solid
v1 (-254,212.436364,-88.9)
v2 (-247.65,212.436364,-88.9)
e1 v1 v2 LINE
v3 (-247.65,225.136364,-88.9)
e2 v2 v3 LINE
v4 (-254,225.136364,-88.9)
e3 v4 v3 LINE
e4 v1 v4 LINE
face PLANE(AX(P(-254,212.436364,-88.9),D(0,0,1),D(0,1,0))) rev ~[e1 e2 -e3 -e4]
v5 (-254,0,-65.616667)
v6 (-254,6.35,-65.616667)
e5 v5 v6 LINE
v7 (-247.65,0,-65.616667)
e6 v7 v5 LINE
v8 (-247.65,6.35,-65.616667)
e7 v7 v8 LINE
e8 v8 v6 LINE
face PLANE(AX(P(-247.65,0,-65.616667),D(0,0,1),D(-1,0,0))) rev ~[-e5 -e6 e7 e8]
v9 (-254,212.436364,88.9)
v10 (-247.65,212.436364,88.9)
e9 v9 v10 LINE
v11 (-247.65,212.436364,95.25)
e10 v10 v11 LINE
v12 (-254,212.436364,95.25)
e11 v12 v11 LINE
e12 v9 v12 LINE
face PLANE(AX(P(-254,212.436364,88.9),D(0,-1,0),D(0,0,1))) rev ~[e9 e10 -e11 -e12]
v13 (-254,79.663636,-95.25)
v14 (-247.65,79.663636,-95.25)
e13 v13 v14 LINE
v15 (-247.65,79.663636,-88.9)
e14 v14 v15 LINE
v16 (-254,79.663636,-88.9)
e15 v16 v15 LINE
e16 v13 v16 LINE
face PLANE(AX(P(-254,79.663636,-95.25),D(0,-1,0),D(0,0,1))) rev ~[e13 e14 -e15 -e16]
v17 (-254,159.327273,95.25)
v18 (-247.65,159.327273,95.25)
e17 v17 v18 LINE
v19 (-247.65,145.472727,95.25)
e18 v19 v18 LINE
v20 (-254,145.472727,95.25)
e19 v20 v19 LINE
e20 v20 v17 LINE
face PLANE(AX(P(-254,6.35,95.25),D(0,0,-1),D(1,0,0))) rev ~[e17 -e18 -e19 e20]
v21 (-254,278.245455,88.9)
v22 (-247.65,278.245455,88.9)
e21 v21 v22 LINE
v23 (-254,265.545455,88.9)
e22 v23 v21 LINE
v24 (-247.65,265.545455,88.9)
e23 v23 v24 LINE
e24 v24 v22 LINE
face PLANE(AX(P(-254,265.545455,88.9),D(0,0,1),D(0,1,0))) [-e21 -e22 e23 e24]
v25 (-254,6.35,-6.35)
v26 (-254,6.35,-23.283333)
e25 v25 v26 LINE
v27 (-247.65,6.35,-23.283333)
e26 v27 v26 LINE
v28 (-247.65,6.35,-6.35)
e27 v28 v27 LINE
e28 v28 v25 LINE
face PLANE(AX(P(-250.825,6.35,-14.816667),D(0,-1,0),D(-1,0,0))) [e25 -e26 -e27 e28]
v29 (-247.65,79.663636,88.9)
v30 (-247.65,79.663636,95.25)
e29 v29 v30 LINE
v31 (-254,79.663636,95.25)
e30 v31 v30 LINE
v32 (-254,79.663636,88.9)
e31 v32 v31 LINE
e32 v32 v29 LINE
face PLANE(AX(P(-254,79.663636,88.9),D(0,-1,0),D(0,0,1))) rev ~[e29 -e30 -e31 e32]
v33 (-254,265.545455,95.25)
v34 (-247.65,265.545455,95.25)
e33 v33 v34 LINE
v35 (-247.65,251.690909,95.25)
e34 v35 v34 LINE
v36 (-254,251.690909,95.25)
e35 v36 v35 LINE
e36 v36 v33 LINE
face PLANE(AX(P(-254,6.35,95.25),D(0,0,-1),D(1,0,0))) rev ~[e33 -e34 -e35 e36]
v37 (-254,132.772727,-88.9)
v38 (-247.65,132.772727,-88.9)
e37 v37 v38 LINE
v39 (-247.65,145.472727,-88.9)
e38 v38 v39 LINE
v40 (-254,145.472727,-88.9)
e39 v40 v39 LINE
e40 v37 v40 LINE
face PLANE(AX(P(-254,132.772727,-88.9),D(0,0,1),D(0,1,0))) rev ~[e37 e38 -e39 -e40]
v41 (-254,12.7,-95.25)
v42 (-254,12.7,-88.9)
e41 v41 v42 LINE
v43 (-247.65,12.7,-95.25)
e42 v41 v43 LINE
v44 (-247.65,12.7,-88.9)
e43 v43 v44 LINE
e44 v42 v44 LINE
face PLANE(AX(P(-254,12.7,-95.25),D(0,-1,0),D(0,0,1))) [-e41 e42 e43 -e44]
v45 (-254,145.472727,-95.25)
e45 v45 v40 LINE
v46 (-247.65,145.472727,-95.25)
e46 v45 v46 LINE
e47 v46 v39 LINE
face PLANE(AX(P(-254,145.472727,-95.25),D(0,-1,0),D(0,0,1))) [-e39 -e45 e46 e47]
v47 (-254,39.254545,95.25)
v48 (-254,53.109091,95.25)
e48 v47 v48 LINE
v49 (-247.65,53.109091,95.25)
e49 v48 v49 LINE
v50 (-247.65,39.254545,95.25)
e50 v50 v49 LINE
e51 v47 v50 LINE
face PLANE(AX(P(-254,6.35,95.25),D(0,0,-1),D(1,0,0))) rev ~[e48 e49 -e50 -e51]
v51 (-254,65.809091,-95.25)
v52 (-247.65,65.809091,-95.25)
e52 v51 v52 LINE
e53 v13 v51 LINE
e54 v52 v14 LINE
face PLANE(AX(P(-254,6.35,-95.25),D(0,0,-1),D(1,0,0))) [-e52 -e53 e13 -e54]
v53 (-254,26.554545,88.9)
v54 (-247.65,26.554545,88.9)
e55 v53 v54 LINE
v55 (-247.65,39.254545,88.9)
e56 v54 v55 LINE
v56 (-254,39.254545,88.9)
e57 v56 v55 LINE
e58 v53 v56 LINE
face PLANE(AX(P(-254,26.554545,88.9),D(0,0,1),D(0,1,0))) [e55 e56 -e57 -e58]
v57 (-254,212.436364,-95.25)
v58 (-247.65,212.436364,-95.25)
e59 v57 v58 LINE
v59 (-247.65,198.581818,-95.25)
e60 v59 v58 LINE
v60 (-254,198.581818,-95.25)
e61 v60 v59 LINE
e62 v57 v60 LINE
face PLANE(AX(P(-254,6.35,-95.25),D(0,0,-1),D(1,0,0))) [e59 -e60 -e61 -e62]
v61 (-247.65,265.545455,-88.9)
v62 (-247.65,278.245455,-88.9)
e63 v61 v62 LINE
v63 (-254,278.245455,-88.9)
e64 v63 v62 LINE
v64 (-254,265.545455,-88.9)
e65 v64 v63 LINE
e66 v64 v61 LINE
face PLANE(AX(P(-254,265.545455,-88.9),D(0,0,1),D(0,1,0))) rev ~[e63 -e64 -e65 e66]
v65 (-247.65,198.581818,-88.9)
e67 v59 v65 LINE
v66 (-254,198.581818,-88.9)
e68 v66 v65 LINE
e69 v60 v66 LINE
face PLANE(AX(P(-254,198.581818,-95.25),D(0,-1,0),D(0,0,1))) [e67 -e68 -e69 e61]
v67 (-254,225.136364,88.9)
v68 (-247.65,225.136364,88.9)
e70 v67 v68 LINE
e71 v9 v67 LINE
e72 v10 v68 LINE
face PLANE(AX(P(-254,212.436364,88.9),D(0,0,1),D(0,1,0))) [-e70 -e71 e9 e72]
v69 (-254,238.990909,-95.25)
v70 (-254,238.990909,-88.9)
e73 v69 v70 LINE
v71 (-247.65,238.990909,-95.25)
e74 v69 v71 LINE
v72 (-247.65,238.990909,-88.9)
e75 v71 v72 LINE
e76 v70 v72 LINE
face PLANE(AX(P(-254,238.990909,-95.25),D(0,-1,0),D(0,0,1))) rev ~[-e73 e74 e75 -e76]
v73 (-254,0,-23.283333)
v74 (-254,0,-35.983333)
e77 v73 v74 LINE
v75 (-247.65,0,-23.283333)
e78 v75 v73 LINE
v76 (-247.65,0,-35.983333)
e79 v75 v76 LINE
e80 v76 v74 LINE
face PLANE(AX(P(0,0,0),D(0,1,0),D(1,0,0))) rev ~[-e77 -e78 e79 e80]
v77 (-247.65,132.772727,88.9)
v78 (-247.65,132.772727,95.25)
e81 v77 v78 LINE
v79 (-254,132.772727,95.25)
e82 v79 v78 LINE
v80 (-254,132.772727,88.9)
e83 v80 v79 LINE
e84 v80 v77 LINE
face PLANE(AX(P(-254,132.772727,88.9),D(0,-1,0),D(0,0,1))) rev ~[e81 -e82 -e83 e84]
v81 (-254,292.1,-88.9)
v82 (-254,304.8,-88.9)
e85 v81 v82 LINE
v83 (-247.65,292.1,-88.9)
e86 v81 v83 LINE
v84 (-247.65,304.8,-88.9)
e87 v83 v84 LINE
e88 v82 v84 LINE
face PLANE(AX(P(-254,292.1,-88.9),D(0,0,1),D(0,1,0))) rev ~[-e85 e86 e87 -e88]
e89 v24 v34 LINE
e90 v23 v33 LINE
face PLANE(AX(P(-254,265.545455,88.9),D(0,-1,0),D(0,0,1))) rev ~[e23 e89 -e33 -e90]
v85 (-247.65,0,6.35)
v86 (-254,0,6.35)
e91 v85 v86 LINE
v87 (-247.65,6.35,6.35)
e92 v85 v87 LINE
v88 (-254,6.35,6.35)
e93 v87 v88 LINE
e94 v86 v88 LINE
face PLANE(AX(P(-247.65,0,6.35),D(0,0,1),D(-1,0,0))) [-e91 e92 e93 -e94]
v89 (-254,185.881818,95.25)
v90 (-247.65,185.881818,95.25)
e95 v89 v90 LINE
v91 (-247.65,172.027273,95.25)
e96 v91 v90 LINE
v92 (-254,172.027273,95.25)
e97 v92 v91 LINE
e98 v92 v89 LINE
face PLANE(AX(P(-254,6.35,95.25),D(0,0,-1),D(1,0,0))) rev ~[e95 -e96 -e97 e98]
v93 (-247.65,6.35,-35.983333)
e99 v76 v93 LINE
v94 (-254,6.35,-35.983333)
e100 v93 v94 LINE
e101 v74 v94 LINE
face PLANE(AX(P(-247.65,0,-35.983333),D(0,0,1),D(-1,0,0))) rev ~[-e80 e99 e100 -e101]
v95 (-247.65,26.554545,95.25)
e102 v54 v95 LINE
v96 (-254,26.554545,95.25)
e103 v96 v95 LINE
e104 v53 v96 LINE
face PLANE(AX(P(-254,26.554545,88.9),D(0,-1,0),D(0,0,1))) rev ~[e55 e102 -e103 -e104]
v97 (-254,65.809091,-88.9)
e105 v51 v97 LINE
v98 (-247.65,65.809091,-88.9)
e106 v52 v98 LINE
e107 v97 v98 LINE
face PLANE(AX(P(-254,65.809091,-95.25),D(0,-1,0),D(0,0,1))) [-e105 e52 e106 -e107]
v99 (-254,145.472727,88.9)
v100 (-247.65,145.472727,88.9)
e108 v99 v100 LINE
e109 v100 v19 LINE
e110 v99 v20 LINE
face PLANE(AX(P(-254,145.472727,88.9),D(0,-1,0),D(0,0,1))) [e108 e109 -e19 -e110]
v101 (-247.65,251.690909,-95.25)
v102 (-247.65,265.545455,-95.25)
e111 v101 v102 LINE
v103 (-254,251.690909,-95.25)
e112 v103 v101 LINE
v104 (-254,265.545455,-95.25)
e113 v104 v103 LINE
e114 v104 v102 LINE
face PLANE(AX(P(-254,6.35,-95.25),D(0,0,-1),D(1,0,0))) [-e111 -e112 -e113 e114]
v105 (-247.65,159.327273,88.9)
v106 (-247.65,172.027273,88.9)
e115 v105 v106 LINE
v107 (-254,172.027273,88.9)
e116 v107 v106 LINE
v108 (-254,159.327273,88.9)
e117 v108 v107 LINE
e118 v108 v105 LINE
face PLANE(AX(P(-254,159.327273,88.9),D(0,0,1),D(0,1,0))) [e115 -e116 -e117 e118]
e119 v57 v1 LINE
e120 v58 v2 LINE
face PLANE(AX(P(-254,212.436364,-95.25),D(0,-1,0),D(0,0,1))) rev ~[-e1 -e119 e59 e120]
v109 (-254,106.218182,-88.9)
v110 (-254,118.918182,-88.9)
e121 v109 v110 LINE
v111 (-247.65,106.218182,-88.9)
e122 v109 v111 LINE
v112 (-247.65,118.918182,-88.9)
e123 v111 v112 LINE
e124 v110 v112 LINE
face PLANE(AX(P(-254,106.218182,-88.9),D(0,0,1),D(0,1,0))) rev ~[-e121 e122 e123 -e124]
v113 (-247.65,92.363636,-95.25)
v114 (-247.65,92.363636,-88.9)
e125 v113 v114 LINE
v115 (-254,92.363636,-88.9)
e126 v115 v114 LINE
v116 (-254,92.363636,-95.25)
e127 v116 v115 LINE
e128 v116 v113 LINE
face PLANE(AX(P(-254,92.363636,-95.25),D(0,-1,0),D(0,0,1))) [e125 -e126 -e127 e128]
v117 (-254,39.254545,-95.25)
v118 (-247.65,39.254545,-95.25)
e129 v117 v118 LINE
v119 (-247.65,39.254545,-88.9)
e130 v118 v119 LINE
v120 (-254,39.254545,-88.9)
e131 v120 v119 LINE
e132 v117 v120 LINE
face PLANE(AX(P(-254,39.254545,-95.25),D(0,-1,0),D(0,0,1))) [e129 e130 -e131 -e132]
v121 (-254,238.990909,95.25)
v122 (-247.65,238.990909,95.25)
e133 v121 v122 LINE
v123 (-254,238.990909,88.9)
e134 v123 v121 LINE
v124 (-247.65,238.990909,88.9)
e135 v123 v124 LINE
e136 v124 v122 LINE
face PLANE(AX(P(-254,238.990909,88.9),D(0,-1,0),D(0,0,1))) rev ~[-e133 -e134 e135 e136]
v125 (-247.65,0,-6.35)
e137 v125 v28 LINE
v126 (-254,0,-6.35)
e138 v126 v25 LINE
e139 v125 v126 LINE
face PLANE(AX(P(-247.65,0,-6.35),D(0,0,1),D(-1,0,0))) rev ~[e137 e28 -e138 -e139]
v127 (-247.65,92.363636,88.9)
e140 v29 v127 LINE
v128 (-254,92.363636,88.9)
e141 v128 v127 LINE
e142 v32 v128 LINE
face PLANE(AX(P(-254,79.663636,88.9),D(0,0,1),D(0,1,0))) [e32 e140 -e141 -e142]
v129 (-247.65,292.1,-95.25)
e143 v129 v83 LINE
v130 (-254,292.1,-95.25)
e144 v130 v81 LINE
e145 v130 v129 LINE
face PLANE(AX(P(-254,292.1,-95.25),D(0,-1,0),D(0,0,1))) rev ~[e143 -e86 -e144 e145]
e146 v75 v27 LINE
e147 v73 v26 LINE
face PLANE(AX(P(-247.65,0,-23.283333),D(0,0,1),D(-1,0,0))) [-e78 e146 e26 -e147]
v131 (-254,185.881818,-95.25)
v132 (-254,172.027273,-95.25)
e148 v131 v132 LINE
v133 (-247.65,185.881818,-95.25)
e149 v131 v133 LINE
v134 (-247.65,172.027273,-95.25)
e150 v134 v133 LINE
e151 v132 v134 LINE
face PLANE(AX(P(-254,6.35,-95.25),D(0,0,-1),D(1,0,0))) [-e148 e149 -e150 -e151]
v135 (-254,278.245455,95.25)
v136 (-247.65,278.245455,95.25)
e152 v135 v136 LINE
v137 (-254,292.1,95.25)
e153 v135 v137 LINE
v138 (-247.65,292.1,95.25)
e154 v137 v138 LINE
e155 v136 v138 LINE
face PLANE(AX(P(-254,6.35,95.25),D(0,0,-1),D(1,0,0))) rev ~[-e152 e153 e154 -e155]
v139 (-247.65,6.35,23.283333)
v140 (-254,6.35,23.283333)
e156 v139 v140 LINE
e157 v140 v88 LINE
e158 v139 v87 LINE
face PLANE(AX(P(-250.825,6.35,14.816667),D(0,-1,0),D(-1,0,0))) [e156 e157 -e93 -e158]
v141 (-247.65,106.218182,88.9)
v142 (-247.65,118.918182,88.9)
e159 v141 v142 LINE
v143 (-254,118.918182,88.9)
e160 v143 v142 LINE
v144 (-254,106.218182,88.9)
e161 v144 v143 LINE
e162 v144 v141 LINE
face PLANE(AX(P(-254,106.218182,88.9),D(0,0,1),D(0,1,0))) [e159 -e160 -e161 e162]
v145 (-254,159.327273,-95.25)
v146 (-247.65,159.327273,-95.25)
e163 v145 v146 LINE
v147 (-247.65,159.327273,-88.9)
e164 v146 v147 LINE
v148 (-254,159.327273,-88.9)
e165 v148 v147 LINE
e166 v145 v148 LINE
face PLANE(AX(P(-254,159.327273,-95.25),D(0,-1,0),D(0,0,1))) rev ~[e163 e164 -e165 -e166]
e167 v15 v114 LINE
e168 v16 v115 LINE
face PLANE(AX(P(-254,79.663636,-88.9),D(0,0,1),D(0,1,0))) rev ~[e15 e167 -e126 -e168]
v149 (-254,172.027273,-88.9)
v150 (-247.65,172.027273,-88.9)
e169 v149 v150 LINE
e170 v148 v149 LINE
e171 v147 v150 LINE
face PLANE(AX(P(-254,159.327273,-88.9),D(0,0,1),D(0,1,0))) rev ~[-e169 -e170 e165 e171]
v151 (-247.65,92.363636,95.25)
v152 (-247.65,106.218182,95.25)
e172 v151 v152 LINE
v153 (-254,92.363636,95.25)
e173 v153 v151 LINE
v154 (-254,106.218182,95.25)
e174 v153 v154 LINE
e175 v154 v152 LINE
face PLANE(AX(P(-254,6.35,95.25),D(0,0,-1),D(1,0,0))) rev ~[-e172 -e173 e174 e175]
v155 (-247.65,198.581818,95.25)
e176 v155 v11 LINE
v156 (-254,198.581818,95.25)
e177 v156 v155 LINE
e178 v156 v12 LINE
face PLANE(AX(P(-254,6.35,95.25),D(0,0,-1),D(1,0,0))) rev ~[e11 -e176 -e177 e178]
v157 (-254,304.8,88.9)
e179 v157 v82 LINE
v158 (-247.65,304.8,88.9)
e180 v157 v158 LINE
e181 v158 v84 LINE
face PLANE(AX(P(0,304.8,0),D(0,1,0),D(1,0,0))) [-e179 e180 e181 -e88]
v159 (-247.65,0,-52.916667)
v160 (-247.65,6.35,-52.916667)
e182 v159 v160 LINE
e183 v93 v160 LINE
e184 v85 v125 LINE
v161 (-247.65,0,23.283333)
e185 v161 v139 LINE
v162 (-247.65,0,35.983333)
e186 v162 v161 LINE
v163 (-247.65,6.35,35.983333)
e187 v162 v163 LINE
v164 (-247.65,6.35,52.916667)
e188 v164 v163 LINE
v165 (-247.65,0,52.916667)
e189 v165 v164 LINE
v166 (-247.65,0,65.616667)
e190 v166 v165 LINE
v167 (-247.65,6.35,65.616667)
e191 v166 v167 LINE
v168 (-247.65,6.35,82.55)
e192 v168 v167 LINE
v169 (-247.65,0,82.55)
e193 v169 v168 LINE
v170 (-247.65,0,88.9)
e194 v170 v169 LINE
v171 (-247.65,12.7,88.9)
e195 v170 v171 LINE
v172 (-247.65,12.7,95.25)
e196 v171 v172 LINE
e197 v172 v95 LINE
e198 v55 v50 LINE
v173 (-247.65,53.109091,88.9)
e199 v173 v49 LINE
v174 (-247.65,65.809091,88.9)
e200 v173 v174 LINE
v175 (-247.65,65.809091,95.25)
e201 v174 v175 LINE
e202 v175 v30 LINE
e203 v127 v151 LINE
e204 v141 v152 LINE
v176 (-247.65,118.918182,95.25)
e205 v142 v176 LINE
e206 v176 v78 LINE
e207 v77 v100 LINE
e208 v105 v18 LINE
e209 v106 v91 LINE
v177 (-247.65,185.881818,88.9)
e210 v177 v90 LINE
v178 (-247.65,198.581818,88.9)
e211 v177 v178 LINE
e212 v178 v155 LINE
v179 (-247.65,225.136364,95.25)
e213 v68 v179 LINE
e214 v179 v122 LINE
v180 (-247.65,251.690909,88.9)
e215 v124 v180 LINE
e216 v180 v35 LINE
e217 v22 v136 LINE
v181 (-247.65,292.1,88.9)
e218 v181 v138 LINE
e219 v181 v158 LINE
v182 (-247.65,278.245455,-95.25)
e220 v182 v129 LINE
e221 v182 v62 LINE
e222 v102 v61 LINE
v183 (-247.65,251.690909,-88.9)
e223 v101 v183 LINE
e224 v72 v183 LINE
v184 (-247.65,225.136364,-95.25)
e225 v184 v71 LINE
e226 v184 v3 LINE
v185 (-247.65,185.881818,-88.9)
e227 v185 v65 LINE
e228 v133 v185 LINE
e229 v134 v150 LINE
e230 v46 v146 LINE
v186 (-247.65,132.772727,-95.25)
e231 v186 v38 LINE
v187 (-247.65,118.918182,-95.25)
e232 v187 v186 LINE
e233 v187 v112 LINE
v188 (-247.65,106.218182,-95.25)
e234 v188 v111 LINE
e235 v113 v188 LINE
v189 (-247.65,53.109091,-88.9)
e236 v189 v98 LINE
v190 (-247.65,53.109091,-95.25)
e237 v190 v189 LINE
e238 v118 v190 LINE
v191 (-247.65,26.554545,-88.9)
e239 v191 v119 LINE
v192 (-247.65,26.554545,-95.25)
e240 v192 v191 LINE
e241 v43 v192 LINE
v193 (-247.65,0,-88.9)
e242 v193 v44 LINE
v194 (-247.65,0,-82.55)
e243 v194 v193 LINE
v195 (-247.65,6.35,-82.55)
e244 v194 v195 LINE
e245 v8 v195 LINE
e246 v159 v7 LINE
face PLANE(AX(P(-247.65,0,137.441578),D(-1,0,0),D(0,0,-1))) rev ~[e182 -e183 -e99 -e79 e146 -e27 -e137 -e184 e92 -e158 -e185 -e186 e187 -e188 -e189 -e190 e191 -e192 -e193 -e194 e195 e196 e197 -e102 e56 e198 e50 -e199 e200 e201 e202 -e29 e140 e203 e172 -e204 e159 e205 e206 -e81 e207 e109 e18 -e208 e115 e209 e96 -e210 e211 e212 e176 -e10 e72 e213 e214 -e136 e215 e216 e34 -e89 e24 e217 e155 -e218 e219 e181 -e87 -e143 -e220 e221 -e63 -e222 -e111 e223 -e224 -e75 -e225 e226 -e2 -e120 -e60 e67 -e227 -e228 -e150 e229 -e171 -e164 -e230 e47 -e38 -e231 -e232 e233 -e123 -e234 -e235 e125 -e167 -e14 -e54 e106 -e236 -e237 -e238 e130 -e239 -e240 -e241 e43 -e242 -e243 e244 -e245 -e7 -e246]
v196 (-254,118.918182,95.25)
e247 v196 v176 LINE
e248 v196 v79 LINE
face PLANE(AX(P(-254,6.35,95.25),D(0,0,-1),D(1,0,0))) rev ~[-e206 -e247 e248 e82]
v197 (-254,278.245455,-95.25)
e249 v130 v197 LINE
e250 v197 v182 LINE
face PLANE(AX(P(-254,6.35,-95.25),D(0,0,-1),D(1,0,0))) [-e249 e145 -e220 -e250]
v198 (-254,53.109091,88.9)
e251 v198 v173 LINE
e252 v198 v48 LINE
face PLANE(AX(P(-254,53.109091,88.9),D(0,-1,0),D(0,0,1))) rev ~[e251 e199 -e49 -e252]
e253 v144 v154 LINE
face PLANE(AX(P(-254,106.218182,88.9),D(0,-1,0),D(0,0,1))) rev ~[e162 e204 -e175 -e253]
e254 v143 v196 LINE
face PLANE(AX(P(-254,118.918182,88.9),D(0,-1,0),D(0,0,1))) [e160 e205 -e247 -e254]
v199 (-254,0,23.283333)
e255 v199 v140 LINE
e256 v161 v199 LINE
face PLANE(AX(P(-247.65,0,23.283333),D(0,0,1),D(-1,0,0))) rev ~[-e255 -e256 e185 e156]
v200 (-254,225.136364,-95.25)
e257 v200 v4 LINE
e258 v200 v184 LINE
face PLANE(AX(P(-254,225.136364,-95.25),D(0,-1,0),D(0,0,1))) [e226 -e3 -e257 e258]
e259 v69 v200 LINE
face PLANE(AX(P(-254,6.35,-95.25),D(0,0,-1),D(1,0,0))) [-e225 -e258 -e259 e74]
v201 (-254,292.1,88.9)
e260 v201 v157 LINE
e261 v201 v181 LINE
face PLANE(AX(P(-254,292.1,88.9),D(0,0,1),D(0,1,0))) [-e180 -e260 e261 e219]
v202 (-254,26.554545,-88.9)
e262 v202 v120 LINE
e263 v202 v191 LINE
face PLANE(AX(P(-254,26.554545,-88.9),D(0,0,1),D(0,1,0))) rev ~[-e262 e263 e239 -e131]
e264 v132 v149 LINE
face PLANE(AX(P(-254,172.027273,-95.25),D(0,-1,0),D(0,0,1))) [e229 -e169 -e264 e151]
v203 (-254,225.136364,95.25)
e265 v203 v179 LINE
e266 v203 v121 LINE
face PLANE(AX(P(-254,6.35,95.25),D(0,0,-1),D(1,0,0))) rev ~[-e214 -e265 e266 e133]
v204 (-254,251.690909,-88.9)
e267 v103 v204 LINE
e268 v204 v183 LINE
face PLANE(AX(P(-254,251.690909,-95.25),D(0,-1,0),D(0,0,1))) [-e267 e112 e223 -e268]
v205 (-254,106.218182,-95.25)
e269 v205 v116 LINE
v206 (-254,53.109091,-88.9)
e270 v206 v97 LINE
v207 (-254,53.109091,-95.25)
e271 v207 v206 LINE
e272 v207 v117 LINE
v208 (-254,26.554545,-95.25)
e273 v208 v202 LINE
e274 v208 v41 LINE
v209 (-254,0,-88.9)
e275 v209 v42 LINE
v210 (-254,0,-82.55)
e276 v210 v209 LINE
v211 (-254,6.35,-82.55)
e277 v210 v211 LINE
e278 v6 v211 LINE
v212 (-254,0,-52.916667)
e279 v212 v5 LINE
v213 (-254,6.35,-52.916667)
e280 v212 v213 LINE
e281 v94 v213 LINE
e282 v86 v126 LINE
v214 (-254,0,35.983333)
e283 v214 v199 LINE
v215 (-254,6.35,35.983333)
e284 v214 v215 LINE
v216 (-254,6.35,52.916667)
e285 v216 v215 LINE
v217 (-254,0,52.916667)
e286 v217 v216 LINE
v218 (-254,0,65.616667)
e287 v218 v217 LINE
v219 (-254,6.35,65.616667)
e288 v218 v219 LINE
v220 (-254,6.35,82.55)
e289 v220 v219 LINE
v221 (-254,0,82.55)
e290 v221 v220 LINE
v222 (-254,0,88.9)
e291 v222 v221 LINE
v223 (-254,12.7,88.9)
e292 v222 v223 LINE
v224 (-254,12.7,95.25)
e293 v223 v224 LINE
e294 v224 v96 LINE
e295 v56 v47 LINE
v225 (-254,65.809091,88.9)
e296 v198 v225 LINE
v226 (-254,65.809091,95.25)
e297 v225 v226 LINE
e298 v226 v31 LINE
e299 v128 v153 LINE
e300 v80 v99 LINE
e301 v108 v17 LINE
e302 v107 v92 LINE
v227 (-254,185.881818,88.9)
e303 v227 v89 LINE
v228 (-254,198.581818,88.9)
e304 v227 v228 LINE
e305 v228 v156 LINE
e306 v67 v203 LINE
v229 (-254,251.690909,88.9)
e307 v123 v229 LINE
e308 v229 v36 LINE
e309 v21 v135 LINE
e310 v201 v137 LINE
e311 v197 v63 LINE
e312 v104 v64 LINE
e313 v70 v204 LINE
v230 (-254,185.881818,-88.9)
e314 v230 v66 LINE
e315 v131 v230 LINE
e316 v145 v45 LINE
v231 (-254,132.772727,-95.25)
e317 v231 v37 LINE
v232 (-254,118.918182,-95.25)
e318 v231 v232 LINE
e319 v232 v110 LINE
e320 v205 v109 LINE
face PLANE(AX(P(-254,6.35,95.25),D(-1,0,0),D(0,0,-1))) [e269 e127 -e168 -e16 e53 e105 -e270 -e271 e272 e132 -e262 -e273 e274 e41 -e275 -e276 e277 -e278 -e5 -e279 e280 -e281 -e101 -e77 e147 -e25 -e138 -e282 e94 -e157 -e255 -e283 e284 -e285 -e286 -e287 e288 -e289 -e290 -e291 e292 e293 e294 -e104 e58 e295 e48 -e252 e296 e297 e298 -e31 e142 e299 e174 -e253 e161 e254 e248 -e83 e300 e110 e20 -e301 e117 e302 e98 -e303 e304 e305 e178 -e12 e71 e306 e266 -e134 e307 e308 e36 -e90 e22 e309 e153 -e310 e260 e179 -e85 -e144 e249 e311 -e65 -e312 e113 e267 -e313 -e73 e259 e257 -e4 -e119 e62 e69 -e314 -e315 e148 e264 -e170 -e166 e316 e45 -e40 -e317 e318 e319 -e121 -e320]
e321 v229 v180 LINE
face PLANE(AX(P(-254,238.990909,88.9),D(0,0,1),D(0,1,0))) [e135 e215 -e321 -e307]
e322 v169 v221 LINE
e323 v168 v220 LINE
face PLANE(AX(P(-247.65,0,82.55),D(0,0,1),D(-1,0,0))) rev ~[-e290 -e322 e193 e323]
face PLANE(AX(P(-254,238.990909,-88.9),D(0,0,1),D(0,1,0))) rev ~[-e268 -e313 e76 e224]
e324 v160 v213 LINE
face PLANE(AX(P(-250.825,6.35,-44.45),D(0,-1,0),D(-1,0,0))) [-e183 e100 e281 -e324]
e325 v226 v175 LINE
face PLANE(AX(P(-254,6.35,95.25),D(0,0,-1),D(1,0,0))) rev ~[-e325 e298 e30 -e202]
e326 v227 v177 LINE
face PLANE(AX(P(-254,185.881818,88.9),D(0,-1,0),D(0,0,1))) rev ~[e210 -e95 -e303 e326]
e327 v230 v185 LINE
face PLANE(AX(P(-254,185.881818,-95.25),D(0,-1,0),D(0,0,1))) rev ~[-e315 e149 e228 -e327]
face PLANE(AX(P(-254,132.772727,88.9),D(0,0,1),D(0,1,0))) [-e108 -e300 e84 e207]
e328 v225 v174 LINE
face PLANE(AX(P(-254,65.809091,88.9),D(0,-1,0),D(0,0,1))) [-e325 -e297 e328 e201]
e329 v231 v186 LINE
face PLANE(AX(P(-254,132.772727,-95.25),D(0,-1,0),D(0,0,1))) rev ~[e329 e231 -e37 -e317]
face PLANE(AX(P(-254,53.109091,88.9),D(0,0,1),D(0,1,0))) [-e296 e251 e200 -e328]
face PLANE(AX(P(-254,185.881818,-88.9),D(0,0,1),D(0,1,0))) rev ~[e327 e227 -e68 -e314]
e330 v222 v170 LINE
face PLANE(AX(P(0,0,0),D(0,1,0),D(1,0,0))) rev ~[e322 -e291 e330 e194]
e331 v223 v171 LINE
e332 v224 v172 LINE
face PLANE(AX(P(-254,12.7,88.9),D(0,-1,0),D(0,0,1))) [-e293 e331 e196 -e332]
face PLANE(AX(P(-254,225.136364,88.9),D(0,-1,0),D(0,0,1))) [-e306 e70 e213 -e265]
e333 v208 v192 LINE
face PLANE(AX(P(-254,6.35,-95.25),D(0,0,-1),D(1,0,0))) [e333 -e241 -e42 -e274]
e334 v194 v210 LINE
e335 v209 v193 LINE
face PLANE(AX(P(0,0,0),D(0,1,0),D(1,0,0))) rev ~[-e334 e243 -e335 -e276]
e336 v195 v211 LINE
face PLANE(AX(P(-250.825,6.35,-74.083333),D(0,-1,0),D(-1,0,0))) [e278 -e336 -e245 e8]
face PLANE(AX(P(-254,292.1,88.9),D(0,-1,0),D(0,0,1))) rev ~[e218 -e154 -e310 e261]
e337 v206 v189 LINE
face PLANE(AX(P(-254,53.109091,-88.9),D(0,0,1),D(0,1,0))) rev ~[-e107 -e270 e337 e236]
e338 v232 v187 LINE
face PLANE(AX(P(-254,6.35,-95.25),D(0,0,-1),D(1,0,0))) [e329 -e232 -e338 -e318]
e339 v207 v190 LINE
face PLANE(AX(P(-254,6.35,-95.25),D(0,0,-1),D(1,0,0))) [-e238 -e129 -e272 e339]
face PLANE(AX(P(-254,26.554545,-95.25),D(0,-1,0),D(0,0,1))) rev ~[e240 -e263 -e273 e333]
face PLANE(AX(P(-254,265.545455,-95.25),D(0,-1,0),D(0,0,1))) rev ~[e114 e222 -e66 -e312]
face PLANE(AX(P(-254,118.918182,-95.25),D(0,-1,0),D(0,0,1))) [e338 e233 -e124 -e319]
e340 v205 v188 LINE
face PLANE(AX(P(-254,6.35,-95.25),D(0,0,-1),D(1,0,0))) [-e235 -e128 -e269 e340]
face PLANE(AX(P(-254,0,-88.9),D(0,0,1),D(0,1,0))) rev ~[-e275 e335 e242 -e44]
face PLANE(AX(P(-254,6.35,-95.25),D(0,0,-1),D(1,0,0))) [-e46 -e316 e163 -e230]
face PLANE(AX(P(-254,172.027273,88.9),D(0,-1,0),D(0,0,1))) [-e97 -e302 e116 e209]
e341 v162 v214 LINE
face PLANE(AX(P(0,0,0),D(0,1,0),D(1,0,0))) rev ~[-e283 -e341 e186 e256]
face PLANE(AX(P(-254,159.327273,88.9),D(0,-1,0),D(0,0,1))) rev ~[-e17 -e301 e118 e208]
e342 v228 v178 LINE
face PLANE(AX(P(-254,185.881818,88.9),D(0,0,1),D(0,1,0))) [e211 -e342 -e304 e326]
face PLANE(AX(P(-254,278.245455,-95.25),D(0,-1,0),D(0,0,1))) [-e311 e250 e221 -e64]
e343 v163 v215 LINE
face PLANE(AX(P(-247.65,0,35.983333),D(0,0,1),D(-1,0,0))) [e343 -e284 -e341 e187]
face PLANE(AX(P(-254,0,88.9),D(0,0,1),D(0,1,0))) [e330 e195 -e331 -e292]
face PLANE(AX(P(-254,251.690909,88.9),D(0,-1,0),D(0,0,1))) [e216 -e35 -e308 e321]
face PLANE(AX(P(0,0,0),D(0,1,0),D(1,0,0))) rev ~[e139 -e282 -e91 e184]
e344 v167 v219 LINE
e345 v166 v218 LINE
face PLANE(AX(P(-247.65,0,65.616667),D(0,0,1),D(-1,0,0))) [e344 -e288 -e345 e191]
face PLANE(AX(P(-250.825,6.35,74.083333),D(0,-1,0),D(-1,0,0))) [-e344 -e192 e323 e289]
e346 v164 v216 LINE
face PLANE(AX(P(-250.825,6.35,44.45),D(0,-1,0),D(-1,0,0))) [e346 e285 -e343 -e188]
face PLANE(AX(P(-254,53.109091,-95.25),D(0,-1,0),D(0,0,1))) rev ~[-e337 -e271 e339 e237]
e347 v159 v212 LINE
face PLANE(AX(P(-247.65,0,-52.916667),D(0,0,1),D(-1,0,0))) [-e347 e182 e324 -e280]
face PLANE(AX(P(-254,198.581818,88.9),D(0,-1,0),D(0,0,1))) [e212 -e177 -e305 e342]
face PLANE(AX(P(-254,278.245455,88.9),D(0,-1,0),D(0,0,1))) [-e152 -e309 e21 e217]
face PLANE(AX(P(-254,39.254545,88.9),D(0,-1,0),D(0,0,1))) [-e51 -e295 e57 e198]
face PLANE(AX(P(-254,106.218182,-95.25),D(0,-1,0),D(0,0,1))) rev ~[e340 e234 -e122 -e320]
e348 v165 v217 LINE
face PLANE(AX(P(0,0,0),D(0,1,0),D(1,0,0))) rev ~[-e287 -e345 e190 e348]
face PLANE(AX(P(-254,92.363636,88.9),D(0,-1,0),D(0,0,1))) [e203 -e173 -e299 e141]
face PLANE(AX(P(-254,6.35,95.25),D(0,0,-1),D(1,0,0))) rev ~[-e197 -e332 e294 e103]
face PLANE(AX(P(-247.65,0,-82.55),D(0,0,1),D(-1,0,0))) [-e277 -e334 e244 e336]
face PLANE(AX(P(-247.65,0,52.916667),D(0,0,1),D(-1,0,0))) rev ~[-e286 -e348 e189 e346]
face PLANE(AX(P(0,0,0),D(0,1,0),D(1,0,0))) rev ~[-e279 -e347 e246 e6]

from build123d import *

# Parameters (mm, degrees)
SKETCH1_W           = 508
SKETCH1_H           = 190.5
BOSS_EXTRUDE1_DEPTH = 6.35
SKETCH2_W           = 508
SKETCH2_H           = 190.5
SKETCH2_W_2         = 495.3
SKETCH2_H_2         = 177.8
BOSS_EXTRUDE2_DEPTH = 298.45
SKETCH3_W           = 6.35
SKETCH3_H           = 16.933333333
SKETCH3_H_2         = 16.933333334
CUT_EXTRUDE1_DEPTH  = 12.7
SKETCH4_W           = 6.35
SKETCH4_H           = 15.875
CUT_EXTRUDE2_DEPTH  = 6.35
SKETCH6_W           = 514.801062296
SKETCH6_H           = 254.881465808
CUT_EXTRUDE5_DEPTH  = 305.8
SKETCH5_W           = 6.35
SKETCH5_H           = 16.933333333
SKETCH5_H_2         = 16.933333334
CUT_EXTRUDE6_DEPTH  = 6.35
SKETCH7_W           = 6.35
SKETCH7_H           = 12.7
CUT_EXTRUDE7_DEPTH  = 7.35


with BuildPart() as part:
    # Sketch1 → Boss-Extrude1 (new body)
    with BuildSketch(Plane(origin=(0, 0, 0), x_dir=(1, 0, 0), z_dir=(0, 1, 0))):
        Rectangle(SKETCH1_W, SKETCH1_H)
    extrude(amount=BOSS_EXTRUDE1_DEPTH)

    # Sketch2 → Boss-Extrude2 (add)
    with BuildSketch(Plane(origin=(0, 6.35, 0), x_dir=(1, 0, 0), z_dir=(0, 1, 0))):
        Rectangle(SKETCH2_W, SKETCH2_H)
        Rectangle(SKETCH2_W_2, SKETCH2_H_2, mode=Mode.SUBTRACT)
    extrude(amount=BOSS_EXTRUDE2_DEPTH)

    # Sketch3 → Cut-Extrude1 (cut)
    with BuildSketch(Plane.XY.offset(95.25)):
        with BuildLine():
            Line((-3.302, 283.21), (-3.302, 6.35))
            Line((-3.302, 6.35), (3.302, 6.35))
            Line((3.302, 6.35), (3.302, 292.354))
            Line((3.302, 292.354), (-16.256, 292.354))
            Line((-16.256, 292.354), (-16.256, 285.75))
            Line((-16.256, 285.75), (-5.842, 285.75))
            ThreePointArc((-5.842, 285.75), (-4.045948776, 285.006051224), (-3.302, 283.21))
        make_face()
        with Locations((12.827, 80.433333334)):
            Rectangle(SKETCH3_W, SKETCH3_H)
        with Locations((12.827, 50.8)):
            Rectangle(SKETCH3_W, SKETCH3_H_2)
        with Locations((12.827, 21.166666667)):
            Rectangle(SKETCH3_W, SKETCH3_H)
    extrude(amount=-CUT_EXTRUDE1_DEPTH, mode=Mode.SUBTRACT)

    # Sketch4 → Cut-Extrude2 (cut)
    with BuildSketch(Plane.XY.offset(-88.9)):
        with Locations((-19.431, 284.1625)):
            Rectangle(SKETCH4_W, SKETCH4_H)
        with Locations((-19.431, 255.5875)):
            Rectangle(SKETCH4_W, SKETCH4_H)
        with Locations((-19.431, 227.0125)):
            Rectangle(SKETCH4_W, SKETCH4_H)
        with Locations((-19.431, 198.4375)):
            Rectangle(SKETCH4_W, SKETCH4_H)
        with Locations((-19.431, 169.8625)):
            Rectangle(SKETCH4_W, SKETCH4_H)
        with Locations((-19.431, 141.2875)):
            Rectangle(SKETCH4_W, SKETCH4_H)
        with Locations((-19.431, 112.7125)):
            Rectangle(SKETCH4_W, SKETCH4_H)
        with Locations((-19.431, 84.1375)):
            Rectangle(SKETCH4_W, SKETCH4_H)
        with Locations((-19.431, 55.5625)):
            Rectangle(SKETCH4_W, SKETCH4_H)
        with Locations((-19.431, 26.9875)):
            Rectangle(SKETCH4_W, SKETCH4_H)
    cut_extrude2 = extrude(amount=-CUT_EXTRUDE2_DEPTH, mode=Mode.SUBTRACT)

    # Mirror1: Cut-Extrude2 across plane
    add(cut_extrude2.mirror(Plane.ZY.offset(6.477)), mode=Mode.SUBTRACT)

    # Sketch6 → Cut-Extrude5 (cut, through all)
    with BuildSketch(Plane(origin=(0, 0, 0), x_dir=(1, 0, 0), z_dir=(0, 1, 0))):
        with Locations((9.750531148, -10.000845247)):
            Rectangle(SKETCH6_W, SKETCH6_H)
    extrude(amount=CUT_EXTRUDE5_DEPTH, mode=Mode.SUBTRACT)

    # Sketch5 → Cut-Extrude6 (cut)
    with BuildSketch(Plane(origin=(0, 0, 0), x_dir=(-1, 0, 0), z_dir=(0, -1, 0))):
        with Locations((250.825, -74.083333334)):
            Rectangle(SKETCH5_W, SKETCH5_H)
        with Locations((250.825, -44.45)):
            Rectangle(SKETCH5_W, SKETCH5_H_2)
        with Locations((250.825, -14.816666667)):
            Rectangle(SKETCH5_W, SKETCH5_H)
        with Locations((250.825, 14.816666667)):
            Rectangle(SKETCH5_W, SKETCH5_H)
        with Locations((250.825, 44.45)):
            Rectangle(SKETCH5_W, SKETCH5_H_2)
        with Locations((250.825, 74.083333334)):
            Rectangle(SKETCH5_W, SKETCH5_H)
    extrude(amount=-CUT_EXTRUDE6_DEPTH, mode=Mode.SUBTRACT)

    # Sketch7 → Cut-Extrude7 (cut, through all)
    with BuildSketch(Plane.ZY.offset(254)):
        with Locations((-92.075, 32.904545455)):
            Rectangle(SKETCH7_W, SKETCH7_H)
        with Locations((-92.075, 6.35)):
            Rectangle(SKETCH7_W, SKETCH7_H)
        with Locations((-92.075, 59.459090909)):
            Rectangle(SKETCH7_W, SKETCH7_H)
        with Locations((-92.075, 86.013636364)):
            Rectangle(SKETCH7_W, SKETCH7_H)
        with Locations((-92.075, 112.568181818)):
            Rectangle(SKETCH7_W, SKETCH7_H)
        with Locations((-92.075, 139.122727273)):
            Rectangle(SKETCH7_W, SKETCH7_H)
        with Locations((-92.075, 165.677272727)):
            Rectangle(SKETCH7_W, SKETCH7_H)
        with Locations((-92.075, 192.231818182)):
            Rectangle(SKETCH7_W, SKETCH7_H)
        with Locations((-92.075, 218.786363636)):
            Rectangle(SKETCH7_W, SKETCH7_H)
        with Locations((-92.075, 245.340909091)):
            Rectangle(SKETCH7_W, SKETCH7_H)
        with Locations((-92.075, 271.895454545)):
            Rectangle(SKETCH7_W, SKETCH7_H)
        with Locations((-92.075, 298.45)):
            Rectangle(SKETCH7_W, SKETCH7_H)
        with Locations((92.075, 298.45)):
            Rectangle(SKETCH7_W, SKETCH7_H)
        with Locations((92.075, 271.895454545)):
            Rectangle(SKETCH7_W, SKETCH7_H)
        with Locations((92.075, 245.340909091)):
            Rectangle(SKETCH7_W, SKETCH7_H)
        with Locations((92.075, 218.786363636)):
            Rectangle(SKETCH7_W, SKETCH7_H)
        with Locations((92.075, 192.231818182)):
            Rectangle(SKETCH7_W, SKETCH7_H)
        with Locations((92.075, 165.677272727)):
            Rectangle(SKETCH7_W, SKETCH7_H)
        with Locations((92.075, 139.122727273)):
            Rectangle(SKETCH7_W, SKETCH7_H)
        with Locations((92.075, 112.568181818)):
            Rectangle(SKETCH7_W, SKETCH7_H)
        with Locations((92.075, 86.013636364)):
            Rectangle(SKETCH7_W, SKETCH7_H)
        with Locations((92.075, 59.459090909)):
            Rectangle(SKETCH7_W, SKETCH7_H)
        with Locations((92.075, 32.904545455)):
            Rectangle(SKETCH7_W, SKETCH7_H)
        with Locations((92.075, 6.35)):
            Rectangle(SKETCH7_W, SKETCH7_H)
    extrude(amount=-CUT_EXTRUDE7_DEPTH, mode=Mode.SUBTRACT)


solid = part.part
